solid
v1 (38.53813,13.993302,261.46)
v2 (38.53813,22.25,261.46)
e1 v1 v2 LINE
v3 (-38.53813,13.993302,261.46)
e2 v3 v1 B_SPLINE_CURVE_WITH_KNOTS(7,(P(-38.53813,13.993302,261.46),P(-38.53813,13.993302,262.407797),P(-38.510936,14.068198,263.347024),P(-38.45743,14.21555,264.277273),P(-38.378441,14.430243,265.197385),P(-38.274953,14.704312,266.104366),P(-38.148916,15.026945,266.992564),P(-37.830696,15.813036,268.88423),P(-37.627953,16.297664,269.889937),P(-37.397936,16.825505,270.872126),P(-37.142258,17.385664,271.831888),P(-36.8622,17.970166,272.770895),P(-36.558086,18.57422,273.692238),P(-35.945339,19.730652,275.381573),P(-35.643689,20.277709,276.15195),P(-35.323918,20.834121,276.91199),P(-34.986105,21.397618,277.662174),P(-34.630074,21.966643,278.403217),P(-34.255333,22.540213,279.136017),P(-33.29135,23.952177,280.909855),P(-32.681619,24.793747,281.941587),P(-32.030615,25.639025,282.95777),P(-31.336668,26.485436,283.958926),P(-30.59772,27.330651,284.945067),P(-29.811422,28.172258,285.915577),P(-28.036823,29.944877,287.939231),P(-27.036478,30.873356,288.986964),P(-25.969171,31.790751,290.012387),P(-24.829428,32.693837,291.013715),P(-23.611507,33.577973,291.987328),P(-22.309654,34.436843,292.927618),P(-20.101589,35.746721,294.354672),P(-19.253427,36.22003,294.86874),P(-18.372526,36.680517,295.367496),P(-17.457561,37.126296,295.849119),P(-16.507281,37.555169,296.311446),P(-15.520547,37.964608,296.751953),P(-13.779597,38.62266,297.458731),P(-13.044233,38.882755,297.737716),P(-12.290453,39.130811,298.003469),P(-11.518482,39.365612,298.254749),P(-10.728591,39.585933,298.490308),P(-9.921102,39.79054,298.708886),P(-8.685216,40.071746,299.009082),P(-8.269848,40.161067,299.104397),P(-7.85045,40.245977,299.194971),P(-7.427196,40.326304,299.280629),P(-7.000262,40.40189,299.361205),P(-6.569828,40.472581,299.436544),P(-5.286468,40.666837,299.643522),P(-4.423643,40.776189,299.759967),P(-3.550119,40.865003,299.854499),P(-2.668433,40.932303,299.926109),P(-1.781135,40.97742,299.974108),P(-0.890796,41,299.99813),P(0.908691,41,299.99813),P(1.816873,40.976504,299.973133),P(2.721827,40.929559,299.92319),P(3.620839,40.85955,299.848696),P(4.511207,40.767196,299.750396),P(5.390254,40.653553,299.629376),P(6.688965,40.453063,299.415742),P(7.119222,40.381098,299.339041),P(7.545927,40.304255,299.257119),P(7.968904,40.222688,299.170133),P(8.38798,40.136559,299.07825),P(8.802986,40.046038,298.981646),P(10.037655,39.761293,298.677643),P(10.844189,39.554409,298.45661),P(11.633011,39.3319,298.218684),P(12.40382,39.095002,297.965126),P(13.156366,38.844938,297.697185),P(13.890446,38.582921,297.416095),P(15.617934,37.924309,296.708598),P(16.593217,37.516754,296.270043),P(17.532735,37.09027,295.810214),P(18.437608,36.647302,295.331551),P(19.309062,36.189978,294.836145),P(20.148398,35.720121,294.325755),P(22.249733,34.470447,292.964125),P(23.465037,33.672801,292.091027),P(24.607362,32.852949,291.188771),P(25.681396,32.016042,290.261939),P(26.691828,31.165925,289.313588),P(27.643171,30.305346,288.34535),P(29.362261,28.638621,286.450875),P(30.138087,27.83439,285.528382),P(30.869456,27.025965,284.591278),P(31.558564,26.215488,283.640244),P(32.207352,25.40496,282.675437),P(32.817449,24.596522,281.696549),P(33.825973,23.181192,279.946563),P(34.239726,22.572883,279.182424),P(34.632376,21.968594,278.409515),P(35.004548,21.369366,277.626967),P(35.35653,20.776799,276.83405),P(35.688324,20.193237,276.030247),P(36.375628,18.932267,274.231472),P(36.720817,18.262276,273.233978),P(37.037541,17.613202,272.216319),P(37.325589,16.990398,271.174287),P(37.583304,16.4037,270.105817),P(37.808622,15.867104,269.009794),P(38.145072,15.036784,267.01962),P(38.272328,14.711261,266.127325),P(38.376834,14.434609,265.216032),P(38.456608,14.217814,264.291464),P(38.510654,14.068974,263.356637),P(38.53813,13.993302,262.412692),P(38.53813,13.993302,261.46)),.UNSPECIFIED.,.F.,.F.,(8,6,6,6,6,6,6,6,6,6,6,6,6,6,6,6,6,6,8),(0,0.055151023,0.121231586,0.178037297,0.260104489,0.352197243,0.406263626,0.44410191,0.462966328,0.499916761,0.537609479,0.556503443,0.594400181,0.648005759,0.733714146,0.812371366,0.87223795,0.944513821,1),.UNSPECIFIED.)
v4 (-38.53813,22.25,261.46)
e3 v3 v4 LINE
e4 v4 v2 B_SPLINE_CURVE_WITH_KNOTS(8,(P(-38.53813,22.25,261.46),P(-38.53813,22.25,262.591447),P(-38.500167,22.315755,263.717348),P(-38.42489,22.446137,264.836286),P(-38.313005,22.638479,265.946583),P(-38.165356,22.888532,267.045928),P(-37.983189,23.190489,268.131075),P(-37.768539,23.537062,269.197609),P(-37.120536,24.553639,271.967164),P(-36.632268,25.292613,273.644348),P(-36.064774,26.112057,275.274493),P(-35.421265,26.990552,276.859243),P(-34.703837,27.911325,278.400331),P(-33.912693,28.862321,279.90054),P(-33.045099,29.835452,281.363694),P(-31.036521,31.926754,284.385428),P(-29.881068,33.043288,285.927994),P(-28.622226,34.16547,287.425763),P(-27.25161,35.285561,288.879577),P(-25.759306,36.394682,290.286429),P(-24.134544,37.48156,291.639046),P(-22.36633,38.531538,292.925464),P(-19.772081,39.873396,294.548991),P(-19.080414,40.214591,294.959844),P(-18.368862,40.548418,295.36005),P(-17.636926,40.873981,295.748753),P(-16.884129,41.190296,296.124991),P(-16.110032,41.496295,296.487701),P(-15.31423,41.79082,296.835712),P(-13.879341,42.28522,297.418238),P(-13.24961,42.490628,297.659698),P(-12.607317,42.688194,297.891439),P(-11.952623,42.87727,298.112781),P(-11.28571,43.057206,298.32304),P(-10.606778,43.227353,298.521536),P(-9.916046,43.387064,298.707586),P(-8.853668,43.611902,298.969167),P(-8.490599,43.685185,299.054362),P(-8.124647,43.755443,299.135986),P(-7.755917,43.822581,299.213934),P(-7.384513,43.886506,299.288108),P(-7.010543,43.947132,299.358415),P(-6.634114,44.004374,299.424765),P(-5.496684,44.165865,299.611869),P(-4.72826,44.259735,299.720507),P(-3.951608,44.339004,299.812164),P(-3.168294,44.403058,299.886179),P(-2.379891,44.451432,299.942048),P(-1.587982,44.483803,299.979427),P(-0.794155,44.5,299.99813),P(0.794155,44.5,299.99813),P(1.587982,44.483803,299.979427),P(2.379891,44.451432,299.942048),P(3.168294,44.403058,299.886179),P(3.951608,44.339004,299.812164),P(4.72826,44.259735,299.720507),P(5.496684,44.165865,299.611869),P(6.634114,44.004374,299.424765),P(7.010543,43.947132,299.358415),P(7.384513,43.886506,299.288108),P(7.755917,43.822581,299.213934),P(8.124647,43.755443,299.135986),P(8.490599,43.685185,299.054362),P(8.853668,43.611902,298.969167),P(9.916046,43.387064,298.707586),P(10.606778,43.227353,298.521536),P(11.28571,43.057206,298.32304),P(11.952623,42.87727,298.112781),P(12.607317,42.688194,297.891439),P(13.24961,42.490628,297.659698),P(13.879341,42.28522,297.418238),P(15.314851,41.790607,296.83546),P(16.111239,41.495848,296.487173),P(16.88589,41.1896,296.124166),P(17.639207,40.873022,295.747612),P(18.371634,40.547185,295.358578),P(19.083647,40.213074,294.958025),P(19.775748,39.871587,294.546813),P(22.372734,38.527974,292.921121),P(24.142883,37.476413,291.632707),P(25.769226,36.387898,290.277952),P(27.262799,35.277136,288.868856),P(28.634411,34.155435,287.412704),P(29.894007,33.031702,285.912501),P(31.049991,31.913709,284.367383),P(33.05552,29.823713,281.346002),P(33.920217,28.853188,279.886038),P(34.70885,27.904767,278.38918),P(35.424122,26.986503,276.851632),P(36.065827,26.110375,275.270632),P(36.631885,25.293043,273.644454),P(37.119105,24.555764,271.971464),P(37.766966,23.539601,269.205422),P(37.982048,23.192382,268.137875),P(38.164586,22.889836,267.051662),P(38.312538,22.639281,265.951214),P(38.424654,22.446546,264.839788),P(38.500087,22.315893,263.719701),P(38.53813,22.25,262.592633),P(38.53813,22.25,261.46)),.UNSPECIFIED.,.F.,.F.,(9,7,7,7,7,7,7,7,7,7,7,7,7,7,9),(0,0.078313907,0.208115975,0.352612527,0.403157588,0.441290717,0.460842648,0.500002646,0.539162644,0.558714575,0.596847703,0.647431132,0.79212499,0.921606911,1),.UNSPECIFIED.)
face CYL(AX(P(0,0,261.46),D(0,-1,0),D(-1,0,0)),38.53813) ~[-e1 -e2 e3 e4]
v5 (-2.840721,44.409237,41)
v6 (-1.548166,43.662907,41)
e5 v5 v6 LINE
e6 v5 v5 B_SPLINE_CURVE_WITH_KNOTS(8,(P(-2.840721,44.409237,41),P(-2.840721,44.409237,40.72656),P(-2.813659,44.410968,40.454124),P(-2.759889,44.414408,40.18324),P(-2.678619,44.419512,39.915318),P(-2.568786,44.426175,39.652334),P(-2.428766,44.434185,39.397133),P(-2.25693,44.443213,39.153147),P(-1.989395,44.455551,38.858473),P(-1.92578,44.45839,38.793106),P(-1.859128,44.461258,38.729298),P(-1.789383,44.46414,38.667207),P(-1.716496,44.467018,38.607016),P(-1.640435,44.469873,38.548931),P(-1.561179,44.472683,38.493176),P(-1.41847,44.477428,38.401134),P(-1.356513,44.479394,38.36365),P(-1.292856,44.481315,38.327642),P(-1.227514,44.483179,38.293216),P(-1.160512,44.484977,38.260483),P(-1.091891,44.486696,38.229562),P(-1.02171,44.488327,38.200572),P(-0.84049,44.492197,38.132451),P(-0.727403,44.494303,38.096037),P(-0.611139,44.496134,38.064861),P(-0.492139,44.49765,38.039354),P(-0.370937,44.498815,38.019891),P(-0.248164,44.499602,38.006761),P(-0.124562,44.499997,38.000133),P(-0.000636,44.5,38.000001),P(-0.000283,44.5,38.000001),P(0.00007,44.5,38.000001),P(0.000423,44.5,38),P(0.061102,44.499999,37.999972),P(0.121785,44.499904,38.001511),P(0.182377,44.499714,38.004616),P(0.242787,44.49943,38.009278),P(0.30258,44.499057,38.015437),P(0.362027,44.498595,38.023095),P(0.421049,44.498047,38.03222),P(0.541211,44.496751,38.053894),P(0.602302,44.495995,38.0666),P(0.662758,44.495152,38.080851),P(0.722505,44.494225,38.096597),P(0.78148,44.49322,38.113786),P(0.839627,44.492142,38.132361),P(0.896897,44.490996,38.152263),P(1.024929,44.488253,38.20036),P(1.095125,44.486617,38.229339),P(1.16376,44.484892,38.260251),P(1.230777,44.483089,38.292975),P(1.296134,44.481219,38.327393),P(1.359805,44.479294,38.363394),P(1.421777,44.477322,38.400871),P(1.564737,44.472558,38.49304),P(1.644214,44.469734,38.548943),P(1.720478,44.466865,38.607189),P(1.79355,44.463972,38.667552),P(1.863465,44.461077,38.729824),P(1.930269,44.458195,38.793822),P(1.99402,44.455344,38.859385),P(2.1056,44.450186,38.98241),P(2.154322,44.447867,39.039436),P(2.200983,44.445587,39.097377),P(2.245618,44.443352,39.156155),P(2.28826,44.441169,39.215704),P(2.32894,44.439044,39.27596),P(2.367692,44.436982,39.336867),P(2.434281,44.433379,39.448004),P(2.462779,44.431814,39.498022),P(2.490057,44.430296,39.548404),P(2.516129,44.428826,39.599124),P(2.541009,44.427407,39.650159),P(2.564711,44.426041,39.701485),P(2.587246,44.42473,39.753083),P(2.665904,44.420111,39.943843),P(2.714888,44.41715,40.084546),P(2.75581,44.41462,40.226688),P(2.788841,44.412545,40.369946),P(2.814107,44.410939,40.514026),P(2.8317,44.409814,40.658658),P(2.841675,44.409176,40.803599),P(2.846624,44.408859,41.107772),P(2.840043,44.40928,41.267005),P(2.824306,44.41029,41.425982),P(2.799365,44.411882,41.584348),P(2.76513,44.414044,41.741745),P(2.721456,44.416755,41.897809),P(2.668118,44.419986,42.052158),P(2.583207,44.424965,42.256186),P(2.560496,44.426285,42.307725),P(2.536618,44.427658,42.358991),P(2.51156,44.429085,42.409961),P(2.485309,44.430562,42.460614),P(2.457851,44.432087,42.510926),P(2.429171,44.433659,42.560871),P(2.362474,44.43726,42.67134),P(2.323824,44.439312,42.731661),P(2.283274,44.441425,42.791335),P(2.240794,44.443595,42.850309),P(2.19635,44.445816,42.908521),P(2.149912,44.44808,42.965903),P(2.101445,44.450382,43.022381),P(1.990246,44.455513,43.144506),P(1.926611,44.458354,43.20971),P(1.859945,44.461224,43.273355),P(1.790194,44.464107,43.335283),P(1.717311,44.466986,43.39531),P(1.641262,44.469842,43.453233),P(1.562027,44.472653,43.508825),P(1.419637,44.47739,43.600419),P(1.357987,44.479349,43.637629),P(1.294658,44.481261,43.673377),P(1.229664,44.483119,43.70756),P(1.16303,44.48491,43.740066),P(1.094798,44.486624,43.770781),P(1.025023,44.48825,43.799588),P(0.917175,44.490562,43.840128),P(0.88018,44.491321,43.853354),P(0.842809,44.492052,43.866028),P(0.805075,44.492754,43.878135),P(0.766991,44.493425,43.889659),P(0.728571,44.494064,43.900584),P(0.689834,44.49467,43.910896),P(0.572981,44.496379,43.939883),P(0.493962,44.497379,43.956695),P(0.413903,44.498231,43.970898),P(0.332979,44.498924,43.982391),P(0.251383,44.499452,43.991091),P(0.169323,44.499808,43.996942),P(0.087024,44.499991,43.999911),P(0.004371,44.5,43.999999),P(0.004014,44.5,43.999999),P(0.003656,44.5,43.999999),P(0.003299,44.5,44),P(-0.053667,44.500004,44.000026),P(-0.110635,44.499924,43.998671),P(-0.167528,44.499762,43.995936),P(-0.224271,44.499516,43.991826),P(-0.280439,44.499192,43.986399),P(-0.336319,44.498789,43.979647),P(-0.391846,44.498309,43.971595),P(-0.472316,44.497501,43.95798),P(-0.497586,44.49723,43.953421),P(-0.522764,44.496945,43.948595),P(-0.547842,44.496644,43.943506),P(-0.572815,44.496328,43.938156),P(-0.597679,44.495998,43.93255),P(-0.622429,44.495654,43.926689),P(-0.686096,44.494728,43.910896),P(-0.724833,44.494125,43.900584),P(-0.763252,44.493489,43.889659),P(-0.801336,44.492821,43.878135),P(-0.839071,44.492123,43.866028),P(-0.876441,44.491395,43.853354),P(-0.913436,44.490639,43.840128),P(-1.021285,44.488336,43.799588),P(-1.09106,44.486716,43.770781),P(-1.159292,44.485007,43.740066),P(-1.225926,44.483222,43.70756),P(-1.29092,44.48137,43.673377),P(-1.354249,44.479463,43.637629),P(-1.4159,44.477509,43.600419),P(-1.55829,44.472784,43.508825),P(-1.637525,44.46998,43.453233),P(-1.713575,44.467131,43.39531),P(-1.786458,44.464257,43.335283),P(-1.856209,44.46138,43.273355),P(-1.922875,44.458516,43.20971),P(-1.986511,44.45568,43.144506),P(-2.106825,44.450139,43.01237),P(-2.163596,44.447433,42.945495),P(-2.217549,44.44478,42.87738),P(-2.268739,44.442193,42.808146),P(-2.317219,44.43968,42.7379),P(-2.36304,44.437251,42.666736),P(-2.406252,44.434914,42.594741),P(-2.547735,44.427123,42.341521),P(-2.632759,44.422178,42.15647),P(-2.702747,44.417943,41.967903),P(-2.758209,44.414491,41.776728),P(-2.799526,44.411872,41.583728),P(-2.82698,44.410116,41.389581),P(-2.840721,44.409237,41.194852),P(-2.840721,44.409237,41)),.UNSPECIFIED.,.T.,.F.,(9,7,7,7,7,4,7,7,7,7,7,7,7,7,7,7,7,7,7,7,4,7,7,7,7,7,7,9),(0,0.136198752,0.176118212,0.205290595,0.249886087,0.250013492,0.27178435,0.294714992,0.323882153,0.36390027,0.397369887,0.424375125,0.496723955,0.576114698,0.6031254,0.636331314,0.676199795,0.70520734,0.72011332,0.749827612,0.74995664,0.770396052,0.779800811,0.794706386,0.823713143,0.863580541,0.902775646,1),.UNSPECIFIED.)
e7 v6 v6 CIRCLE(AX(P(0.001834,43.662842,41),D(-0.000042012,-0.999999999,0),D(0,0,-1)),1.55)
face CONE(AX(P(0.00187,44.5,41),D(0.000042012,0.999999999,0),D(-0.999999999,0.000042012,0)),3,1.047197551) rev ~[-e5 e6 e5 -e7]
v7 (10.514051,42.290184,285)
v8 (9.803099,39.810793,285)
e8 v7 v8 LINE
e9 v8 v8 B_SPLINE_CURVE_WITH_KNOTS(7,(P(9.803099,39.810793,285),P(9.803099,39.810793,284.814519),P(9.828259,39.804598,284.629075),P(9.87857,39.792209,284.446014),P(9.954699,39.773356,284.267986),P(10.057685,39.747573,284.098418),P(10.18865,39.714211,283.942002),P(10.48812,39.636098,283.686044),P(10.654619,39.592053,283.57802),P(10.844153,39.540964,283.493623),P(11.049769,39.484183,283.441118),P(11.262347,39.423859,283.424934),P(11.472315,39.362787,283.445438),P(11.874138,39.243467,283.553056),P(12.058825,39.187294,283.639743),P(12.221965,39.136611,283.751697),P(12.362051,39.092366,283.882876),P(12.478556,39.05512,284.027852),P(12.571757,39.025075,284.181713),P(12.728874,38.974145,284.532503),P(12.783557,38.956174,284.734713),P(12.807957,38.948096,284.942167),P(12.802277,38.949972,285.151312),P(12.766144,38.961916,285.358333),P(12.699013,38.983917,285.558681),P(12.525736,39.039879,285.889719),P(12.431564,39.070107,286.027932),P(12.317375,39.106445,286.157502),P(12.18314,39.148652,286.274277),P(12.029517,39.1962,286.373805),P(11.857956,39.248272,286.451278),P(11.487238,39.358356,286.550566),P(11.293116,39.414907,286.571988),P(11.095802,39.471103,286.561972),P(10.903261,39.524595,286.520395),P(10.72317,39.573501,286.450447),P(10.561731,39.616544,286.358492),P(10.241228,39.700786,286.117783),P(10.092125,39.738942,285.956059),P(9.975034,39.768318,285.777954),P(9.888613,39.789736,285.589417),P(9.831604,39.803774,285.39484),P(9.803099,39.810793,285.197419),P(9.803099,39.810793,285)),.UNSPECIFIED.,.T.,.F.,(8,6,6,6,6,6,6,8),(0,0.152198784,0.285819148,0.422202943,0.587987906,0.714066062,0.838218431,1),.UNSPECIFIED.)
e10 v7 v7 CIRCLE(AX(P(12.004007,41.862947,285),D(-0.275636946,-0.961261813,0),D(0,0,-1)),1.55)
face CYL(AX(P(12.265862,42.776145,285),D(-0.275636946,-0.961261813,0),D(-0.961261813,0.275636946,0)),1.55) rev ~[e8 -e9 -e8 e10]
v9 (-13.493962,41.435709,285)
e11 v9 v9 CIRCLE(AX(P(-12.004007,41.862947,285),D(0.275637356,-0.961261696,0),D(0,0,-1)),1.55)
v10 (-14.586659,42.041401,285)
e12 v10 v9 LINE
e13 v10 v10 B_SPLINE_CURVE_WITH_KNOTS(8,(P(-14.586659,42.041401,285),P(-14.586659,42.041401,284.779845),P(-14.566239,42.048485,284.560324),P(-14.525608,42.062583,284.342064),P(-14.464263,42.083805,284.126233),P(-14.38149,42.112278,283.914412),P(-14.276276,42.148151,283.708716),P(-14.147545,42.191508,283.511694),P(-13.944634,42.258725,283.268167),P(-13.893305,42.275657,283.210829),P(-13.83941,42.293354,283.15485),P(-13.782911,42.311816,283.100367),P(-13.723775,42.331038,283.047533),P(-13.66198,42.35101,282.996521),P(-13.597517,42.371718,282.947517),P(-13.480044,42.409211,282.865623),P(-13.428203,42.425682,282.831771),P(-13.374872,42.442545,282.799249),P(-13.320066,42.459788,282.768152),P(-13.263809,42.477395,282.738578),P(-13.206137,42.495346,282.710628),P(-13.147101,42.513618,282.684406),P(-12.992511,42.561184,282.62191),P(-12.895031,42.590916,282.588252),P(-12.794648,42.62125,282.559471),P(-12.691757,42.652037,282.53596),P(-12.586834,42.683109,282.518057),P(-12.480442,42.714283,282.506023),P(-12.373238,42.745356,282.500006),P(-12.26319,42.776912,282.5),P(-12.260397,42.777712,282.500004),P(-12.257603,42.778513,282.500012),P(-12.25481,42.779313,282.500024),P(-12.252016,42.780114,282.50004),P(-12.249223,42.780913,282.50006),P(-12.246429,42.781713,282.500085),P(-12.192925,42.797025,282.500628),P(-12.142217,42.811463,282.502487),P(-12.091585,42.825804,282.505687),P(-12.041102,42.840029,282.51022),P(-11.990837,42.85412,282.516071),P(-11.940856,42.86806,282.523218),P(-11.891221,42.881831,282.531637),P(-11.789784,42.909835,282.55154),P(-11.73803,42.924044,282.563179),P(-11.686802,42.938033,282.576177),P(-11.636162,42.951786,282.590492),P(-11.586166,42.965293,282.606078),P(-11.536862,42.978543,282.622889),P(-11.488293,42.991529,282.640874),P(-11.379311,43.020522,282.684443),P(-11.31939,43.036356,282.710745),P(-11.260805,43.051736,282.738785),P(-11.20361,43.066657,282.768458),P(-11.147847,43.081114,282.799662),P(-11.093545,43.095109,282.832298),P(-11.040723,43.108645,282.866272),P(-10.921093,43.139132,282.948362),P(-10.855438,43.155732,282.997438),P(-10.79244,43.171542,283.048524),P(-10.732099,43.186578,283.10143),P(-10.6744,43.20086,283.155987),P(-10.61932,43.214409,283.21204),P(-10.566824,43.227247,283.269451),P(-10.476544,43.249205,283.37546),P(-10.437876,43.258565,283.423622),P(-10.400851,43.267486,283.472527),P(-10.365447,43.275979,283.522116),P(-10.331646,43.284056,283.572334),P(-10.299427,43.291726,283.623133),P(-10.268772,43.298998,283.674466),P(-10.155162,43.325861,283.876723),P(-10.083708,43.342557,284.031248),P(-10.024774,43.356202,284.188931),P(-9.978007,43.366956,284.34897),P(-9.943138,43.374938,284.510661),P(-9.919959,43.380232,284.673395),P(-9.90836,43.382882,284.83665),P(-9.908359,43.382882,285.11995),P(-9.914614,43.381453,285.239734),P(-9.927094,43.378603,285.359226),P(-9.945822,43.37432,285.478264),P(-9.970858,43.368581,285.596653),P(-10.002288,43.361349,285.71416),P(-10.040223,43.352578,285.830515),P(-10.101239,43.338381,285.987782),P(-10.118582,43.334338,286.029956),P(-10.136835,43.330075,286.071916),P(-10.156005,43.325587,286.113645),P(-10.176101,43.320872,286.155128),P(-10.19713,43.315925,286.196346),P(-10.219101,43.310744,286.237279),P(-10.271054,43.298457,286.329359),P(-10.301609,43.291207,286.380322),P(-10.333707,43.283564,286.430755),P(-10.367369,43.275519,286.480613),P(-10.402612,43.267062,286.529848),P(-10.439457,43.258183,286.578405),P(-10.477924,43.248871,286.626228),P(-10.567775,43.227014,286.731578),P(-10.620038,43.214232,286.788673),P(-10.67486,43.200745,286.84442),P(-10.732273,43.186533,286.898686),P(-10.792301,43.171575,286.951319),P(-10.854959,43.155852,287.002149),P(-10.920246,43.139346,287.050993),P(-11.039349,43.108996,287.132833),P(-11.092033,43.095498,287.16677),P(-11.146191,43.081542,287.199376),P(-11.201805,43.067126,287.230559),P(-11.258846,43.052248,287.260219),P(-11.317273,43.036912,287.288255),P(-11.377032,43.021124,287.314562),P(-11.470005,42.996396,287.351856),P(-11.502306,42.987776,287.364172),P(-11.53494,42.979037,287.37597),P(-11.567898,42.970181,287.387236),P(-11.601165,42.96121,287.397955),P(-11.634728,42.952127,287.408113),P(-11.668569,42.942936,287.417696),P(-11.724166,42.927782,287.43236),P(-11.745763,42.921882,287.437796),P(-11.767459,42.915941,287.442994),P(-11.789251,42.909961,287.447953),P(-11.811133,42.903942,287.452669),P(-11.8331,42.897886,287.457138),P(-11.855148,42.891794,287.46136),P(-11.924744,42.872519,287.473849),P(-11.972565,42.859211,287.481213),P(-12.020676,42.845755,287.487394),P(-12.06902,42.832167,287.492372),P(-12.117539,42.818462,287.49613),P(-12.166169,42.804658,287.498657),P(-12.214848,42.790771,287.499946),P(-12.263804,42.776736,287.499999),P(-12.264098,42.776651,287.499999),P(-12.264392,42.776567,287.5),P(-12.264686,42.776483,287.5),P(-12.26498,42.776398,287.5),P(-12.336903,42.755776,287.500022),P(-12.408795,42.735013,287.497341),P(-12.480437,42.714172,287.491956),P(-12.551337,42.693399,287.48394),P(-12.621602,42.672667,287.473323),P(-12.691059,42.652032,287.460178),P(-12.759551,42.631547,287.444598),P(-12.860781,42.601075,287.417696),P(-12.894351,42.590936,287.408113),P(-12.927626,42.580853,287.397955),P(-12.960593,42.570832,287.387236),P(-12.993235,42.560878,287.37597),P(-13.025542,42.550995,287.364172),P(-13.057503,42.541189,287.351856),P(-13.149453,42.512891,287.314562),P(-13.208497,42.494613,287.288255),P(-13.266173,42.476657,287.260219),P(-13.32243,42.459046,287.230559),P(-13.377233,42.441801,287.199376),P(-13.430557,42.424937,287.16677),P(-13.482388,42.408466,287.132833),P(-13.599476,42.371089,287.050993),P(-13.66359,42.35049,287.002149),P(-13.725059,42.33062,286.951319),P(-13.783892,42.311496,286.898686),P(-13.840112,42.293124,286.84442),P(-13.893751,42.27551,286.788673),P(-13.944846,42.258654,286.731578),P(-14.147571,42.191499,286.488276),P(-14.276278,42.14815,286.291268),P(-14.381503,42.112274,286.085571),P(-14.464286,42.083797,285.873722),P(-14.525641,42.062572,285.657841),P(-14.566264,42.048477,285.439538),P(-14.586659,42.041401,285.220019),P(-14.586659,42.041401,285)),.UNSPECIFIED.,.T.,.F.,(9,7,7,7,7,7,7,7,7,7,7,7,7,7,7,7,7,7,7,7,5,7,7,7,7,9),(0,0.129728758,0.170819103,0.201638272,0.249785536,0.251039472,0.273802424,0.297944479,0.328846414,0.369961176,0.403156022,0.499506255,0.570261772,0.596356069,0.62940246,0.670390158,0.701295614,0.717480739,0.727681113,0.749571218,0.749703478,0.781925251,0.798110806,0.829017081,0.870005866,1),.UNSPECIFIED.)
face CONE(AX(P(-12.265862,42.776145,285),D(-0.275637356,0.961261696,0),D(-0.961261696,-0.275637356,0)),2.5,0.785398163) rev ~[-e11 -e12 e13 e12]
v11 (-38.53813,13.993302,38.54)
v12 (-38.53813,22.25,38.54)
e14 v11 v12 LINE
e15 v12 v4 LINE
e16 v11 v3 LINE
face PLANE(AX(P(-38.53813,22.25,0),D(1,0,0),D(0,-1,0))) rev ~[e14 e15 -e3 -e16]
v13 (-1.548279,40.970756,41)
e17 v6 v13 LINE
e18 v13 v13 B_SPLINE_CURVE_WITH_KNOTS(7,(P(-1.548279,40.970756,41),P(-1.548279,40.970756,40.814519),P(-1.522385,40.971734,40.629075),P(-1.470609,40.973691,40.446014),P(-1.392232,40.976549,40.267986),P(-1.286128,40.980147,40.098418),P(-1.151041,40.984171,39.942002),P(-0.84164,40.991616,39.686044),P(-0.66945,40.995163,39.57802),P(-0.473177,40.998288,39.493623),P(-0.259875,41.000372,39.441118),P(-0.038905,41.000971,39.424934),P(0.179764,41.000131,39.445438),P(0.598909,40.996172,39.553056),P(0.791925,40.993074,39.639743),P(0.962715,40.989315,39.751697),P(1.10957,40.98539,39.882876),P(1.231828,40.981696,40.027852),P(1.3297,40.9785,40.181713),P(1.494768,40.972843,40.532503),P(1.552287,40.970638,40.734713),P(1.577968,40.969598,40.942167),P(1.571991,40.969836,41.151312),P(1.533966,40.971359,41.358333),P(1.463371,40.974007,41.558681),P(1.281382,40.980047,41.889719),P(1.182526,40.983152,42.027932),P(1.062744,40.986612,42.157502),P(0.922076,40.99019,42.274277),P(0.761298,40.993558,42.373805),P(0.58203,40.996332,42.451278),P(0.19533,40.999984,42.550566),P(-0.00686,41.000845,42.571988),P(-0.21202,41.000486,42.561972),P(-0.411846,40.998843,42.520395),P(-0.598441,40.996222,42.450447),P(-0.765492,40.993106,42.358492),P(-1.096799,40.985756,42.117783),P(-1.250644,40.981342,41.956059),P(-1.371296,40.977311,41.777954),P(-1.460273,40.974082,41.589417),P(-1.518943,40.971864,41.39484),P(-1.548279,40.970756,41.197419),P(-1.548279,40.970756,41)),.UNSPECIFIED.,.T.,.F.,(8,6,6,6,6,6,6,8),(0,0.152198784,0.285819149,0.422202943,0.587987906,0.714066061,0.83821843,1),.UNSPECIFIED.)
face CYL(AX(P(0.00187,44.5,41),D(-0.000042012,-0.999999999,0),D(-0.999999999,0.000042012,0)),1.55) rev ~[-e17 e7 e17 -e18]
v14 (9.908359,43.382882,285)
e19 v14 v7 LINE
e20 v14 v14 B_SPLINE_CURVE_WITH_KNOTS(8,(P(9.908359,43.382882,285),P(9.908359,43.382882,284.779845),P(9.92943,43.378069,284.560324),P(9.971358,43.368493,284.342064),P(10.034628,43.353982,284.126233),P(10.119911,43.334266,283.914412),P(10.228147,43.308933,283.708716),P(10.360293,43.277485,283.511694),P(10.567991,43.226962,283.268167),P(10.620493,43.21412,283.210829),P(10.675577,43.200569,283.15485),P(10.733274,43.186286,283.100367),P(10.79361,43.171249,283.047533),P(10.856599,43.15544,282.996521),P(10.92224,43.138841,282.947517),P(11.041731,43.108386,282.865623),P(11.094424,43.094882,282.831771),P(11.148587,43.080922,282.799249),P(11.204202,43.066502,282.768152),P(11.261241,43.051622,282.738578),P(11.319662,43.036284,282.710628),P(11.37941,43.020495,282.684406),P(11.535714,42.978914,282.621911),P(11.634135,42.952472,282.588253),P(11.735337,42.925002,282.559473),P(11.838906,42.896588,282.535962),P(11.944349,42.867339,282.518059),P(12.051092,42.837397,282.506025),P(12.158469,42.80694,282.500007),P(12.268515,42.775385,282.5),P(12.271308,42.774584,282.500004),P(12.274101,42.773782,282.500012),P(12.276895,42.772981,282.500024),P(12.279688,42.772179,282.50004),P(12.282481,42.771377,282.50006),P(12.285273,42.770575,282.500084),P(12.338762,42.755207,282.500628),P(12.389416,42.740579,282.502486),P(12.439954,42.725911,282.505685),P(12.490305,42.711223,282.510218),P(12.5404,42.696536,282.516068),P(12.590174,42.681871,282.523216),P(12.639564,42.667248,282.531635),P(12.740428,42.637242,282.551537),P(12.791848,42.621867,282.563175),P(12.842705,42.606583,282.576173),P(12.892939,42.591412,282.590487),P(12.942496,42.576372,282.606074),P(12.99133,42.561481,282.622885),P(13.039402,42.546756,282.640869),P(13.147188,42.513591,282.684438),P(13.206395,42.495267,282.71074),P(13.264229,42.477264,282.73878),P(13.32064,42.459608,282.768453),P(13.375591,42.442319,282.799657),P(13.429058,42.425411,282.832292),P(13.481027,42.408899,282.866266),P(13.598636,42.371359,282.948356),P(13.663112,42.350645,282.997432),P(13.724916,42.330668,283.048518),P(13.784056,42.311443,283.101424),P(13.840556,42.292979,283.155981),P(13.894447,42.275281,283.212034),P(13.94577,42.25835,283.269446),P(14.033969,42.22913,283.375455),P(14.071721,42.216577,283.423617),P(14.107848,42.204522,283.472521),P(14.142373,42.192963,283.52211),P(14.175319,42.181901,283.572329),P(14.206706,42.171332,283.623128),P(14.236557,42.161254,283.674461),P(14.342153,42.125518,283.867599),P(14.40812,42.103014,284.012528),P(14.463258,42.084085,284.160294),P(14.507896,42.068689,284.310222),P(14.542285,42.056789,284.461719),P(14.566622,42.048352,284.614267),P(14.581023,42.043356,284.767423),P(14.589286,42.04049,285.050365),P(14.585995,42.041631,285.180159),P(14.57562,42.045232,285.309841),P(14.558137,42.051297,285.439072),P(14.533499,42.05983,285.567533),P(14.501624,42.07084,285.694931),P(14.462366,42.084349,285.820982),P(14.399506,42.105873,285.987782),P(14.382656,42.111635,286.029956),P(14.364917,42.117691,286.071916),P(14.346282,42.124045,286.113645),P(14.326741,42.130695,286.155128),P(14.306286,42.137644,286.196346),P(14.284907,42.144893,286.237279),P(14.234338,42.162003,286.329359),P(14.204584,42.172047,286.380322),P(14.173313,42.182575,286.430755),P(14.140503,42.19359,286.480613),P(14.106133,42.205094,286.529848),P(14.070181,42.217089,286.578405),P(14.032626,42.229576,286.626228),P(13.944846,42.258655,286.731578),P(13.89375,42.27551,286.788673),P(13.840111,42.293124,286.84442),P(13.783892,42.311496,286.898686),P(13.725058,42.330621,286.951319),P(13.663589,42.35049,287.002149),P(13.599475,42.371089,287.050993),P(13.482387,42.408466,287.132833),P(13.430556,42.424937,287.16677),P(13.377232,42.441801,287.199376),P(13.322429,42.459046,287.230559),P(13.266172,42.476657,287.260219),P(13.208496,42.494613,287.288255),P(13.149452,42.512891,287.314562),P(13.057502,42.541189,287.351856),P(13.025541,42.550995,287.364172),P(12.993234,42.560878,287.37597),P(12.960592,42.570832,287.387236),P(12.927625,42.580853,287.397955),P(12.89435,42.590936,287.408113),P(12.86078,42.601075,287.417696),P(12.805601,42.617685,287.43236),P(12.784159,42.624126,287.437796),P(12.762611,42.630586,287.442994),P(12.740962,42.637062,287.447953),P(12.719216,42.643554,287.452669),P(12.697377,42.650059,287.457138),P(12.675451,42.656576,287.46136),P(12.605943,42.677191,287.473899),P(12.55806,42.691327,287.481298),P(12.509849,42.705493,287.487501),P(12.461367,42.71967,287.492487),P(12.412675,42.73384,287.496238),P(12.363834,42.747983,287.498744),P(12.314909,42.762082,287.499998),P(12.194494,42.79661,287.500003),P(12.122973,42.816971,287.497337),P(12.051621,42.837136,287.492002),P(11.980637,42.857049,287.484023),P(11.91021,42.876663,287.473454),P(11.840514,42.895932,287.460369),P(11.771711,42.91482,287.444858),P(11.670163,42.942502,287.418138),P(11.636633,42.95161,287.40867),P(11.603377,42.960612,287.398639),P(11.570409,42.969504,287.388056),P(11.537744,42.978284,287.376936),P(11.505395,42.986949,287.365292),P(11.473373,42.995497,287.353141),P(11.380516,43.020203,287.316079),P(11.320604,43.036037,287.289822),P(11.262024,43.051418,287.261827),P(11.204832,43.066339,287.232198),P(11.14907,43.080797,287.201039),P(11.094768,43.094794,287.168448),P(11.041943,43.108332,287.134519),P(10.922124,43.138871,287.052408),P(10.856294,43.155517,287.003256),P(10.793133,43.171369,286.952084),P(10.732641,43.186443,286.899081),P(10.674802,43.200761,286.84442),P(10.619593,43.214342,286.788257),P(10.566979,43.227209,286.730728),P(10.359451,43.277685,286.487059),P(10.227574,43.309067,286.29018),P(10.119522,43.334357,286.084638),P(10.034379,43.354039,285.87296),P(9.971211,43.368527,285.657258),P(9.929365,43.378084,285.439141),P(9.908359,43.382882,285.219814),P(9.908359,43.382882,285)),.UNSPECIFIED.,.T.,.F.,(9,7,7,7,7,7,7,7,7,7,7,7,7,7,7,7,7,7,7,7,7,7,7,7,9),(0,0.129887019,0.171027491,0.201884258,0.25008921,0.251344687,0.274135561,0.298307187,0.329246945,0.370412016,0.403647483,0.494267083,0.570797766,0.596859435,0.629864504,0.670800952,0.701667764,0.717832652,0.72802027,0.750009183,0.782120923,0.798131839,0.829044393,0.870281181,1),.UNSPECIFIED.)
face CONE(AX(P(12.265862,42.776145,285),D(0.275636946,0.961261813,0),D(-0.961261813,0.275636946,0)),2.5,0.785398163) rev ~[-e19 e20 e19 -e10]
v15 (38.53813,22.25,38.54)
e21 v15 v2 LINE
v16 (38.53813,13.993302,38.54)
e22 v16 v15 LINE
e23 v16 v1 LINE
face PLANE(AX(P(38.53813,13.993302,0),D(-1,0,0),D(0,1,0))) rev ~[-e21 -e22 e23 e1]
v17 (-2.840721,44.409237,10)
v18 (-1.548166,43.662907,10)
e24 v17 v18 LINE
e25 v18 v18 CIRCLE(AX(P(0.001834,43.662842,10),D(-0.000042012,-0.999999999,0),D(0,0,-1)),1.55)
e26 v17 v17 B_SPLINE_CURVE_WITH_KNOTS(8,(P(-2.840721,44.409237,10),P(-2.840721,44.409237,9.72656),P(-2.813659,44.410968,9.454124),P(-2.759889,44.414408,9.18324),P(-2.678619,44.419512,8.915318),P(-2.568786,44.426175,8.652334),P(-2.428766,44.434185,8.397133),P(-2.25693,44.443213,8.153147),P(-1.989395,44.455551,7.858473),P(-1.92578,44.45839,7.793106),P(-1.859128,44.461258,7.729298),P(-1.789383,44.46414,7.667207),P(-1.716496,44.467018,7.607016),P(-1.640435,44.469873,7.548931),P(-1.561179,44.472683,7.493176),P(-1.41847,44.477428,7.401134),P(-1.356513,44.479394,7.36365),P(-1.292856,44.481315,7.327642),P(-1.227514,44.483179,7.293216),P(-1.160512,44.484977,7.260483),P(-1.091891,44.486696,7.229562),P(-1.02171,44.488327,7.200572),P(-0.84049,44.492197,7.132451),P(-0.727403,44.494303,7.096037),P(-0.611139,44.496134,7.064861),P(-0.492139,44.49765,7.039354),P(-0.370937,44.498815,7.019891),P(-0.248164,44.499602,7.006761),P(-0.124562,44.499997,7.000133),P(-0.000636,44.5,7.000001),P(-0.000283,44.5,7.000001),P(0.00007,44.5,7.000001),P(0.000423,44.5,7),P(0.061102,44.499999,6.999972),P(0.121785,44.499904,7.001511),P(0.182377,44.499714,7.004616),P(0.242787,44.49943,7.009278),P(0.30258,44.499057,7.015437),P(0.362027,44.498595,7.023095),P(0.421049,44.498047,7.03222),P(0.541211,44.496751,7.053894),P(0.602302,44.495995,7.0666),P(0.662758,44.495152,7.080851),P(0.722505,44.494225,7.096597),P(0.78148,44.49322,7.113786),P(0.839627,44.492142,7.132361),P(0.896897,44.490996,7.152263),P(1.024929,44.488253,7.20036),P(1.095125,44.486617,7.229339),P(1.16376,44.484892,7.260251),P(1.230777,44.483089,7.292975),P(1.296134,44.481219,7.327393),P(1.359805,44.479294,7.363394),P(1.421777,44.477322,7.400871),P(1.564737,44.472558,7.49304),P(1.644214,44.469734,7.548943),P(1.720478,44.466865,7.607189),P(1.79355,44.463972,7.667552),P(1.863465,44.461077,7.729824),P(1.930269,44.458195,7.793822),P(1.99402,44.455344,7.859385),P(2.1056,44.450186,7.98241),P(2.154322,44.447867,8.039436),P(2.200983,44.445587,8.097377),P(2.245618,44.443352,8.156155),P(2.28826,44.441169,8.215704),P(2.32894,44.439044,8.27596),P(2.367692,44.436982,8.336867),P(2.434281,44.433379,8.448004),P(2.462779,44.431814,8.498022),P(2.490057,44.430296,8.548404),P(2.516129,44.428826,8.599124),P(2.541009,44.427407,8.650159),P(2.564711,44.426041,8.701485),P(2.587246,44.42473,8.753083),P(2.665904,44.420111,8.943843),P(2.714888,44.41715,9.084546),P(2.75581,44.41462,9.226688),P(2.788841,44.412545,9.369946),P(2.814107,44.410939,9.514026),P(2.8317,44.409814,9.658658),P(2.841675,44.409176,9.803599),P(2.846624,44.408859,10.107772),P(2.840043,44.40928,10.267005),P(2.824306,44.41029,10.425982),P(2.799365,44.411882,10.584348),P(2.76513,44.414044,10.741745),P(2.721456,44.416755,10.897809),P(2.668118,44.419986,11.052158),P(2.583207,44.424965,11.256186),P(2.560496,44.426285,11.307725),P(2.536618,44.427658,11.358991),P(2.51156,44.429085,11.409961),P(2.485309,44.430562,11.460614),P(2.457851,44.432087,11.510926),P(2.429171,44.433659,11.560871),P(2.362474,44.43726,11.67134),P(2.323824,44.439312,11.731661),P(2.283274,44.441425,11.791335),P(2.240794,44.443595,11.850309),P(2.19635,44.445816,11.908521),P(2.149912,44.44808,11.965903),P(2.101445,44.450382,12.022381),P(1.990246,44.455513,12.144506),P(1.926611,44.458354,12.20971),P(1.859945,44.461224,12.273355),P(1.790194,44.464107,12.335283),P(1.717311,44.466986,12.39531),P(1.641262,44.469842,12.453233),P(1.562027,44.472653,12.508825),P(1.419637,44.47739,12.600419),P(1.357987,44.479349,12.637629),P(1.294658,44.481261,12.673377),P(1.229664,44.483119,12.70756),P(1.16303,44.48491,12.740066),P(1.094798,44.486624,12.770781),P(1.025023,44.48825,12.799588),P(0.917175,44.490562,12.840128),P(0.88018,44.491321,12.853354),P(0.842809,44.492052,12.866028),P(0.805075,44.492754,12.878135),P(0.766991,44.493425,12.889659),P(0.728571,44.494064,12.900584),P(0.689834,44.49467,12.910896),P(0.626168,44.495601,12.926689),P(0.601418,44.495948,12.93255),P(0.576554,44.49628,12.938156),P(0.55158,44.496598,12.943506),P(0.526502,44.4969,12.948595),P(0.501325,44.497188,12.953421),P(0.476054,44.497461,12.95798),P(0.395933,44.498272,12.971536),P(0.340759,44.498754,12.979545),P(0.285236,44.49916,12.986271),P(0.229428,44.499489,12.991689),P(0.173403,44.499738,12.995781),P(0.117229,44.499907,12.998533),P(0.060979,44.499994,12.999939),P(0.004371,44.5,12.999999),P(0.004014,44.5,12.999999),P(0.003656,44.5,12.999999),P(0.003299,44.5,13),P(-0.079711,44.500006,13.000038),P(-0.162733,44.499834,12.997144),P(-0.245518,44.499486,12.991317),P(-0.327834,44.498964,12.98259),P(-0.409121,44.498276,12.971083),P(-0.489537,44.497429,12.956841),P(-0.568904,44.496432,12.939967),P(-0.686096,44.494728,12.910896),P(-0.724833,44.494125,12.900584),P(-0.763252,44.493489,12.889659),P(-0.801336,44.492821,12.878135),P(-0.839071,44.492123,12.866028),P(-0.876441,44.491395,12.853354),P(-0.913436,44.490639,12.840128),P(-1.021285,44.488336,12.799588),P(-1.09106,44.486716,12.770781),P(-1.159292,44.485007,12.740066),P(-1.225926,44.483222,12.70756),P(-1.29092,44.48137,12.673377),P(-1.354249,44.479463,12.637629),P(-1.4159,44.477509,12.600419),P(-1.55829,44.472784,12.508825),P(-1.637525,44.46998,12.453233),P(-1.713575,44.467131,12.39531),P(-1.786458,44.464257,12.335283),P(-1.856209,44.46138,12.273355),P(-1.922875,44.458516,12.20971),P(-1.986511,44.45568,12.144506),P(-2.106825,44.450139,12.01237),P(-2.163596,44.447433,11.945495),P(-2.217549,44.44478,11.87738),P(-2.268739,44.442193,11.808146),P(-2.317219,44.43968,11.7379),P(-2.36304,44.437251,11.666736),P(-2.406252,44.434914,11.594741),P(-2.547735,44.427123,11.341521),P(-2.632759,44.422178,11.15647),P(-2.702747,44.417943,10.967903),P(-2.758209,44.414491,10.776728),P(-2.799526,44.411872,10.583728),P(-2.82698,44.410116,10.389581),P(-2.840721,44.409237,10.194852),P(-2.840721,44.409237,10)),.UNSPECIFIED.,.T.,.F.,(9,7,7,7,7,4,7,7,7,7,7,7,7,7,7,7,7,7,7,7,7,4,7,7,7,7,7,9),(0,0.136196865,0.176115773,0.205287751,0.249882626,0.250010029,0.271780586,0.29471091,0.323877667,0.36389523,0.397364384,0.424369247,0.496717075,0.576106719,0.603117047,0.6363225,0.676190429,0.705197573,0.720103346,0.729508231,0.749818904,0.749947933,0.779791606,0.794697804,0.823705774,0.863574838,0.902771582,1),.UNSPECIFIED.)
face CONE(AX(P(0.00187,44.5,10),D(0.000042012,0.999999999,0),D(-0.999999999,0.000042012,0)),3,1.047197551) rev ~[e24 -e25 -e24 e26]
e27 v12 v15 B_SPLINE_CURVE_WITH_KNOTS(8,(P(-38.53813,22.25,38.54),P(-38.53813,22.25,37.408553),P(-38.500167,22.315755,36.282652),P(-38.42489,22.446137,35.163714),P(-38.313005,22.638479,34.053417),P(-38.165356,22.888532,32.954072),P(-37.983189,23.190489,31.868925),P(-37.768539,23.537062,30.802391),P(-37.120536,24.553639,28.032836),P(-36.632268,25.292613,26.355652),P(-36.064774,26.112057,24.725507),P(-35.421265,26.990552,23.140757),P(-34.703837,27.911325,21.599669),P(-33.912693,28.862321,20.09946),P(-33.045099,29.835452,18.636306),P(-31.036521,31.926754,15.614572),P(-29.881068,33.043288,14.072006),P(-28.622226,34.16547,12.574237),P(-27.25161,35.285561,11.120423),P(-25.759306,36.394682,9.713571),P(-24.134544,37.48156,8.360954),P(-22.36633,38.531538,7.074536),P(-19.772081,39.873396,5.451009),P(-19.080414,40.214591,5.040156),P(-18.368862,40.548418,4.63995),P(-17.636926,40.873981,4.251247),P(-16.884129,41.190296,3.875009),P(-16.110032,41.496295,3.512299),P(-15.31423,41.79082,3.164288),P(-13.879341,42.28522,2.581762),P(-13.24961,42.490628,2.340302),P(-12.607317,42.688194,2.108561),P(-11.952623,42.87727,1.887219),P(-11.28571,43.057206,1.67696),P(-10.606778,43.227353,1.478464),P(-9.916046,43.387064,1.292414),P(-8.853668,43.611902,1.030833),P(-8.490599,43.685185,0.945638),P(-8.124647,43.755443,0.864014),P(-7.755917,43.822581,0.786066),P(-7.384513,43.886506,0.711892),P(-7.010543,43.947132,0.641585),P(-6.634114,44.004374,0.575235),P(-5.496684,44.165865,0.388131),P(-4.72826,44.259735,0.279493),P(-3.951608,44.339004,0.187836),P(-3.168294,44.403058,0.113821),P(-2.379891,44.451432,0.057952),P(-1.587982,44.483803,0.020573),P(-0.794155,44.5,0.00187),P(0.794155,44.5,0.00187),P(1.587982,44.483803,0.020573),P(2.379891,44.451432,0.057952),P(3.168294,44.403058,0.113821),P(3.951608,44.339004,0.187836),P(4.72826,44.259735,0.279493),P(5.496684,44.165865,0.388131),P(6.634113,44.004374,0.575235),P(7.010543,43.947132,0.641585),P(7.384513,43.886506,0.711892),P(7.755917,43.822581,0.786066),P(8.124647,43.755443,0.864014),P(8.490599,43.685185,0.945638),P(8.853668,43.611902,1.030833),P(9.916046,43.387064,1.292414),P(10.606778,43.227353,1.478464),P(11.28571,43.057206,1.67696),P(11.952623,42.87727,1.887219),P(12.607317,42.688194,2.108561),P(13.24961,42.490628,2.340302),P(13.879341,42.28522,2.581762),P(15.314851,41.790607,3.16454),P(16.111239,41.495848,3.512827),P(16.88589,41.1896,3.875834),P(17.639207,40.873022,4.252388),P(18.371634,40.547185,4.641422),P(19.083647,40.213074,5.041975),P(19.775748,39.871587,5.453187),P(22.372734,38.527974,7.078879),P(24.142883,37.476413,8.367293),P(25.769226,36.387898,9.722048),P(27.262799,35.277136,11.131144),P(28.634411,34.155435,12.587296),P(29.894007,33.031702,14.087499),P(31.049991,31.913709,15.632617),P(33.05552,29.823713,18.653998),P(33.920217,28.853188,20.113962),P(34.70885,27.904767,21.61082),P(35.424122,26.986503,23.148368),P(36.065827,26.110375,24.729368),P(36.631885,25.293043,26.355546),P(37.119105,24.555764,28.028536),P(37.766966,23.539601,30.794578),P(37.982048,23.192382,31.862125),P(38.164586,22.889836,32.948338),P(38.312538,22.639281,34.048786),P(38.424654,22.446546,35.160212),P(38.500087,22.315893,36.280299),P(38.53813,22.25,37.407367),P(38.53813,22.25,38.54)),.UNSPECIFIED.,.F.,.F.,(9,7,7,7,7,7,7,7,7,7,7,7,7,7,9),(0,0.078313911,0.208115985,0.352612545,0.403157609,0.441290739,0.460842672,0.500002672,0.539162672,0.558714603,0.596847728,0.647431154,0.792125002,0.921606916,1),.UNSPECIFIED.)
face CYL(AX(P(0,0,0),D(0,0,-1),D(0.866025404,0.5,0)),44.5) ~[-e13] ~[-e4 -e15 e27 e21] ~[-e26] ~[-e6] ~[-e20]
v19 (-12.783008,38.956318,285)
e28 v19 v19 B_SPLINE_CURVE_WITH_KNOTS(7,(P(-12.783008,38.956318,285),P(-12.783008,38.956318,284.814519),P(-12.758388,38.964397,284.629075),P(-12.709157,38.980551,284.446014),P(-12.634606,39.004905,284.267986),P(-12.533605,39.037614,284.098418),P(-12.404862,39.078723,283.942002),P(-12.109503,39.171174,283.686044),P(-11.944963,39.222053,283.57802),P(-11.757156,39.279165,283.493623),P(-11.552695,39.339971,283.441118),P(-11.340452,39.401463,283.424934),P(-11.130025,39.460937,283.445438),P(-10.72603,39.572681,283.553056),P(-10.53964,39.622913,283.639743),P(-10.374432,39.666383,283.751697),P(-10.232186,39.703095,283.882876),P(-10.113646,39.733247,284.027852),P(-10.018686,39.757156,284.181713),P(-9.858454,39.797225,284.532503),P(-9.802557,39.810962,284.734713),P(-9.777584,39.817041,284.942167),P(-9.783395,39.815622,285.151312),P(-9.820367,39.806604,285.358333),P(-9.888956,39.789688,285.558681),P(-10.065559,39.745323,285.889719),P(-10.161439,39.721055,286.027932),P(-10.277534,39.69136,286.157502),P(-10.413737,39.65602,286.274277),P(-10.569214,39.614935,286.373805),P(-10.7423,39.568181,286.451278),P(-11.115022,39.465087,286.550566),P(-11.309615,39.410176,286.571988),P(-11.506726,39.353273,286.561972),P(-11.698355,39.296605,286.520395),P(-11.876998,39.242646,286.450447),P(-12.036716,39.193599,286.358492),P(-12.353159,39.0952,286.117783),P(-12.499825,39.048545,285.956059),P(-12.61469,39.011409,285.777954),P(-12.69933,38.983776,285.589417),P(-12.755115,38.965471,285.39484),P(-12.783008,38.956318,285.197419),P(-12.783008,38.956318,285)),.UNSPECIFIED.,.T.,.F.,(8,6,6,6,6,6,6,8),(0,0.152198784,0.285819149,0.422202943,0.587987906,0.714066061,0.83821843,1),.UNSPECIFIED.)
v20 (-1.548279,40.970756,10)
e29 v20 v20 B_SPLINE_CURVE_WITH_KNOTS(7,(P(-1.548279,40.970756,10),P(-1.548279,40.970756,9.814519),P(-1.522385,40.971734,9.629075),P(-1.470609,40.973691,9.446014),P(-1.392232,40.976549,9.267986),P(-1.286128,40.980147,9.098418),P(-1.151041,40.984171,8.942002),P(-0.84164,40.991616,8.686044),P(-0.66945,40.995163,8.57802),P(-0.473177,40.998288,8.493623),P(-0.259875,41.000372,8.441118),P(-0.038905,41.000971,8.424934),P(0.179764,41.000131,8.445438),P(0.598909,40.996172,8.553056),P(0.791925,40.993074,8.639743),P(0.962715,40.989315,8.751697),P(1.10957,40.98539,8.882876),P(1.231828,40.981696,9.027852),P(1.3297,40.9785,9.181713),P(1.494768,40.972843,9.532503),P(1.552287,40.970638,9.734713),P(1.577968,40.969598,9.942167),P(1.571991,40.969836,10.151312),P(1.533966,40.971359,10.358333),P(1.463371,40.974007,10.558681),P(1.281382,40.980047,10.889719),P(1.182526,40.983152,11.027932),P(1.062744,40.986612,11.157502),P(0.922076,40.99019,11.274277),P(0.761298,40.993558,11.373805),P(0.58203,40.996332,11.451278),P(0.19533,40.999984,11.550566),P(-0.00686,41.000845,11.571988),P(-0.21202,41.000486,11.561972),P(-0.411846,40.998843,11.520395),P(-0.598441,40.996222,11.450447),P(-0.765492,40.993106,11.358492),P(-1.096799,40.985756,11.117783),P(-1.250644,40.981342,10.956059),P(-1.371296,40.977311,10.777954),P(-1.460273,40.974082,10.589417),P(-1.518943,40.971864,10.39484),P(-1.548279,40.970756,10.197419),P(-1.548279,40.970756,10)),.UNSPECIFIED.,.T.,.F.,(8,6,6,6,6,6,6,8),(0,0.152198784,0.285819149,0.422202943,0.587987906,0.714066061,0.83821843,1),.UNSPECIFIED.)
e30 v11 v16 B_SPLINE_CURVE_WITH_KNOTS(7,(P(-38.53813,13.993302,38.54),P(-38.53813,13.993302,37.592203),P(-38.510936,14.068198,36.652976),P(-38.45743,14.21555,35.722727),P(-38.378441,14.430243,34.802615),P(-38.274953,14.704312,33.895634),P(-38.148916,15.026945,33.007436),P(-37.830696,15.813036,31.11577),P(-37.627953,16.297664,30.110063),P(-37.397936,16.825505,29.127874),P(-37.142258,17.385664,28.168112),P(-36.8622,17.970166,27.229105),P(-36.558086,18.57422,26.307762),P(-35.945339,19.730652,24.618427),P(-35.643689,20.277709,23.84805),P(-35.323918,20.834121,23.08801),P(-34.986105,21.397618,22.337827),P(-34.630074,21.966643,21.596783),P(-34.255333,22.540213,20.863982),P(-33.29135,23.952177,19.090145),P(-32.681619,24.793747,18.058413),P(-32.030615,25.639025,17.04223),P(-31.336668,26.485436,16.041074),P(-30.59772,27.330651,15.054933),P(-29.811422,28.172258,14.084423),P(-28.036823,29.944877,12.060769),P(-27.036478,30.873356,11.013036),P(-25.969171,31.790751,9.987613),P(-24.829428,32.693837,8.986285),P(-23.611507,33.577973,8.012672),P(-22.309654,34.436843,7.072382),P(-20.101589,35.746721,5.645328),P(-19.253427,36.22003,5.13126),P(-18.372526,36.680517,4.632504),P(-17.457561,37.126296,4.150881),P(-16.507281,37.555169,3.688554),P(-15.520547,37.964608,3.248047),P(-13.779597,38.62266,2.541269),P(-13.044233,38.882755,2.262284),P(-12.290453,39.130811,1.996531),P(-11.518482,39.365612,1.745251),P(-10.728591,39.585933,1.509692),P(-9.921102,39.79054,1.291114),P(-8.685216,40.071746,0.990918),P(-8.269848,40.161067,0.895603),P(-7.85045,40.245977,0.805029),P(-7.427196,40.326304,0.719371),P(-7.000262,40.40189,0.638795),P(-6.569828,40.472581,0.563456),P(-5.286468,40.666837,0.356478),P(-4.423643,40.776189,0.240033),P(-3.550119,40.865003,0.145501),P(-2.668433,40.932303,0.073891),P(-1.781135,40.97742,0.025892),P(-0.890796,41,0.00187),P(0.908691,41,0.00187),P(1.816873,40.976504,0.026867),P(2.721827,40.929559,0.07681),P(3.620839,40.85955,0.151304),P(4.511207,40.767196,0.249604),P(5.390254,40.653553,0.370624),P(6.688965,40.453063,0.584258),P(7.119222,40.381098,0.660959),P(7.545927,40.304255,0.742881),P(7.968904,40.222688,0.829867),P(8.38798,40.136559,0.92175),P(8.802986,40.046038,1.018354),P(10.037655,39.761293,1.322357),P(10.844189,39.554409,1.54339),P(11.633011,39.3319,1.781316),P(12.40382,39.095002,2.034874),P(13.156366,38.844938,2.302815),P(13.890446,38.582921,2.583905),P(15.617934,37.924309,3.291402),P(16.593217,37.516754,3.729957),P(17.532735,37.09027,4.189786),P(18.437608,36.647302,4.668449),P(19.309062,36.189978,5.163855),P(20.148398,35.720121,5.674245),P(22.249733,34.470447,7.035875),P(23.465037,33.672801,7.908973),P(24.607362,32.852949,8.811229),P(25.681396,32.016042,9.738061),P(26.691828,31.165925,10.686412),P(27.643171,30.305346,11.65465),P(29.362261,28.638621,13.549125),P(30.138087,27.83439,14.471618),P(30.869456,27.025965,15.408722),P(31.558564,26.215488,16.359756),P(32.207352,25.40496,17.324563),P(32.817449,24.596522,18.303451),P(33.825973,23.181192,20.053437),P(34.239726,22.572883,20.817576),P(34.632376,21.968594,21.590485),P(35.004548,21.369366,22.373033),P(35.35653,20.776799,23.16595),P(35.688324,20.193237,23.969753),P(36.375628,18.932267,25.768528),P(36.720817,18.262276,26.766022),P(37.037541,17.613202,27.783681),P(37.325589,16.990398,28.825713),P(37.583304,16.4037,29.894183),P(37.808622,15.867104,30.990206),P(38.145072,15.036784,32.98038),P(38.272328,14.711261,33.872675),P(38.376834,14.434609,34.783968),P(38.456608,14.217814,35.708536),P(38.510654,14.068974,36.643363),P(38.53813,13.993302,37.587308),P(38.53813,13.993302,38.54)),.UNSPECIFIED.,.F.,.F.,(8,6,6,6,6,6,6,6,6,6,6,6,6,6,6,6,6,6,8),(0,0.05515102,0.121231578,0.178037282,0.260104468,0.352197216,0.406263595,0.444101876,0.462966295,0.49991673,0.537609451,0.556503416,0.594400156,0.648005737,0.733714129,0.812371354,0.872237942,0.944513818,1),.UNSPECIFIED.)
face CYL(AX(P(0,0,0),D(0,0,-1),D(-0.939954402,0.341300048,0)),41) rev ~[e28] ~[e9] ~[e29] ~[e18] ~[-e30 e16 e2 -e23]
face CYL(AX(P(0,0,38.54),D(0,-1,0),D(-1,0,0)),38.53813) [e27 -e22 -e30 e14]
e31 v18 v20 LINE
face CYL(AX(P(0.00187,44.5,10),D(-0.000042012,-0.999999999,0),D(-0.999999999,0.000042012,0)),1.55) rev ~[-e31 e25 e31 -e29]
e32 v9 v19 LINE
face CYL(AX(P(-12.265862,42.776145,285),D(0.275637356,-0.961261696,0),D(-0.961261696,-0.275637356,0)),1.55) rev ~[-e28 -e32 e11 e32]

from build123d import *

# Parameters (mm, degrees)
BOSS_EXTRU_1_DEPTH                   = 300
ENL_V_MAT_EXTRU_1_DEPTH              = 45.5
D_GAGEMENT_M21_D                     = 3.1
D_GAGEMENT_M21_CSINK_D               = 6
D_GAGEMENT_M21_CSINK_ANGLE           = 120
R_P_TITION_LIN_AIRE1_COUNT           = 2
R_P_TITION_LIN_AIRE1_PITCH           = 31
D_GAGEMENT_M41_D                     = 3.1
D_GAGEMENT_M41_DEPTH                 = 30
D_GAGEMENT_M41_CSINK_D               = 5
D_GAGEMENT_M41_CSINK_ANGLE           = 90
D_GAGEMENT_M41_TIP                   = 0.931333959
D_GAGEMENT_M41_ON_FACE_2_D           = 3.1
D_GAGEMENT_M41_ON_FACE_2_DEPTH       = 30
D_GAGEMENT_M41_ON_FACE_2_CSINK_D     = 5
D_GAGEMENT_M41_ON_FACE_2_CSINK_ANGLE = 90
D_GAGEMENT_M41_ON_FACE_2_TIP         = 0.931333959


with BuildPart() as part:
    # Esquisse1 → Boss.-Extru.1 (new body)
    with BuildSketch(Plane.XY):
        with BuildLine():
            Line((-38.538130468, 22.25), (-38.538130468, 13.993301969))
            ThreePointArc((-38.538130468, 13.993301969), (0, 41), (38.538130468, 13.993301969))
            Line((38.538130468, 13.993301969), (38.538130468, 22.25))
            ThreePointArc((38.538130468, 22.25), (0, 44.5), (-38.538130468, 22.25))
        make_face()
    extrude(amount=BOSS_EXTRU_1_DEPTH)

    # Esquisse2 → Enlèv. mat.-Extru.1 (cut, through all)
    with BuildSketch(Plane(origin=(0, 0, 0), x_dir=(1, 0, 0), z_dir=(0, 1, 0))):
        with BuildLine():
            Line((38.538130468, -261.46), (70.818354585, -261.46))
            Line((70.818354585, -261.46), (70.818354585, -316.268787276))
            Line((70.818354585, -316.268787276), (-50.118143928, -316.268787276))
            Line((-50.118143928, -316.268787276), (-50.118143928, -261.46))
            Line((-50.118143928, -261.46), (-38.538130468, -261.46))
            ThreePointArc((-38.538130468, -261.46), (0, -299.998130468), (38.538130468, -261.46))
        make_face()
    enl_v_mat_extru_1 = extrude(amount=ENL_V_MAT_EXTRU_1_DEPTH, mode=Mode.SUBTRACT)

    # Symétrie1: Enlèv. mat.-Extru.1 across plane
    add(enl_v_mat_extru_1.mirror(Plane.XY.offset(150)), mode=Mode.SUBTRACT)

    # Dégagement M21 (through all)
    with Locations(Plane(origin=(0.001869532, 44.499999961, 10), x_dir=(0.999999999, -4.2012e-05, 0), z_dir=(4.2012e-05, 0.999999999, 0))):
        with Locations((0, 0)):
            d_gagement_m21 = CounterSinkHole(D_GAGEMENT_M21_D / 2, D_GAGEMENT_M21_CSINK_D / 2, counter_sink_angle=D_GAGEMENT_M21_CSINK_ANGLE)

    # Répétition linéaire1: Dégagement M21 ×2
    with Locations(*[(0, 0, i * R_P_TITION_LIN_AIRE1_PITCH) for i in range(1, R_P_TITION_LIN_AIRE1_COUNT)]):
        add(d_gagement_m21, mode=Mode.SUBTRACT)

    # Dégagement M41
    with Locations(Plane(origin=(-12.265862334, 42.776145469, 285), x_dir=(0.961261696, 0.275637356, 0), z_dir=(-0.275637356, 0.961261696, 0))):
        with Locations((0, 0)):
            CounterSinkHole(D_GAGEMENT_M41_D / 2, D_GAGEMENT_M41_CSINK_D / 2, depth=D_GAGEMENT_M41_DEPTH, counter_sink_angle=D_GAGEMENT_M41_CSINK_ANGLE)
            with Locations((0, 0, -(D_GAGEMENT_M41_DEPTH + D_GAGEMENT_M41_TIP / 2))):  # 118° drill point
                Cone(0, D_GAGEMENT_M41_D / 2, D_GAGEMENT_M41_TIP, mode=Mode.SUBTRACT)

    # Dégagement M41 on face 2
    with Locations(Plane(origin=(12.265862334, 42.776145469, 285), x_dir=(0.961261813, -0.275636946, 0), z_dir=(0.275636946, 0.961261813, 0))):
        with Locations((0, 0)):
            CounterSinkHole(D_GAGEMENT_M41_ON_FACE_2_D / 2, D_GAGEMENT_M41_ON_FACE_2_CSINK_D / 2, depth=D_GAGEMENT_M41_ON_FACE_2_DEPTH, counter_sink_angle=D_GAGEMENT_M41_ON_FACE_2_CSINK_ANGLE)
            with Locations((0, 0, -(D_GAGEMENT_M41_ON_FACE_2_DEPTH + D_GAGEMENT_M41_ON_FACE_2_TIP / 2))):  # 118° drill point
                Cone(0, D_GAGEMENT_M41_ON_FACE_2_D / 2, D_GAGEMENT_M41_ON_FACE_2_TIP, mode=Mode.SUBTRACT)


solid = part.part
